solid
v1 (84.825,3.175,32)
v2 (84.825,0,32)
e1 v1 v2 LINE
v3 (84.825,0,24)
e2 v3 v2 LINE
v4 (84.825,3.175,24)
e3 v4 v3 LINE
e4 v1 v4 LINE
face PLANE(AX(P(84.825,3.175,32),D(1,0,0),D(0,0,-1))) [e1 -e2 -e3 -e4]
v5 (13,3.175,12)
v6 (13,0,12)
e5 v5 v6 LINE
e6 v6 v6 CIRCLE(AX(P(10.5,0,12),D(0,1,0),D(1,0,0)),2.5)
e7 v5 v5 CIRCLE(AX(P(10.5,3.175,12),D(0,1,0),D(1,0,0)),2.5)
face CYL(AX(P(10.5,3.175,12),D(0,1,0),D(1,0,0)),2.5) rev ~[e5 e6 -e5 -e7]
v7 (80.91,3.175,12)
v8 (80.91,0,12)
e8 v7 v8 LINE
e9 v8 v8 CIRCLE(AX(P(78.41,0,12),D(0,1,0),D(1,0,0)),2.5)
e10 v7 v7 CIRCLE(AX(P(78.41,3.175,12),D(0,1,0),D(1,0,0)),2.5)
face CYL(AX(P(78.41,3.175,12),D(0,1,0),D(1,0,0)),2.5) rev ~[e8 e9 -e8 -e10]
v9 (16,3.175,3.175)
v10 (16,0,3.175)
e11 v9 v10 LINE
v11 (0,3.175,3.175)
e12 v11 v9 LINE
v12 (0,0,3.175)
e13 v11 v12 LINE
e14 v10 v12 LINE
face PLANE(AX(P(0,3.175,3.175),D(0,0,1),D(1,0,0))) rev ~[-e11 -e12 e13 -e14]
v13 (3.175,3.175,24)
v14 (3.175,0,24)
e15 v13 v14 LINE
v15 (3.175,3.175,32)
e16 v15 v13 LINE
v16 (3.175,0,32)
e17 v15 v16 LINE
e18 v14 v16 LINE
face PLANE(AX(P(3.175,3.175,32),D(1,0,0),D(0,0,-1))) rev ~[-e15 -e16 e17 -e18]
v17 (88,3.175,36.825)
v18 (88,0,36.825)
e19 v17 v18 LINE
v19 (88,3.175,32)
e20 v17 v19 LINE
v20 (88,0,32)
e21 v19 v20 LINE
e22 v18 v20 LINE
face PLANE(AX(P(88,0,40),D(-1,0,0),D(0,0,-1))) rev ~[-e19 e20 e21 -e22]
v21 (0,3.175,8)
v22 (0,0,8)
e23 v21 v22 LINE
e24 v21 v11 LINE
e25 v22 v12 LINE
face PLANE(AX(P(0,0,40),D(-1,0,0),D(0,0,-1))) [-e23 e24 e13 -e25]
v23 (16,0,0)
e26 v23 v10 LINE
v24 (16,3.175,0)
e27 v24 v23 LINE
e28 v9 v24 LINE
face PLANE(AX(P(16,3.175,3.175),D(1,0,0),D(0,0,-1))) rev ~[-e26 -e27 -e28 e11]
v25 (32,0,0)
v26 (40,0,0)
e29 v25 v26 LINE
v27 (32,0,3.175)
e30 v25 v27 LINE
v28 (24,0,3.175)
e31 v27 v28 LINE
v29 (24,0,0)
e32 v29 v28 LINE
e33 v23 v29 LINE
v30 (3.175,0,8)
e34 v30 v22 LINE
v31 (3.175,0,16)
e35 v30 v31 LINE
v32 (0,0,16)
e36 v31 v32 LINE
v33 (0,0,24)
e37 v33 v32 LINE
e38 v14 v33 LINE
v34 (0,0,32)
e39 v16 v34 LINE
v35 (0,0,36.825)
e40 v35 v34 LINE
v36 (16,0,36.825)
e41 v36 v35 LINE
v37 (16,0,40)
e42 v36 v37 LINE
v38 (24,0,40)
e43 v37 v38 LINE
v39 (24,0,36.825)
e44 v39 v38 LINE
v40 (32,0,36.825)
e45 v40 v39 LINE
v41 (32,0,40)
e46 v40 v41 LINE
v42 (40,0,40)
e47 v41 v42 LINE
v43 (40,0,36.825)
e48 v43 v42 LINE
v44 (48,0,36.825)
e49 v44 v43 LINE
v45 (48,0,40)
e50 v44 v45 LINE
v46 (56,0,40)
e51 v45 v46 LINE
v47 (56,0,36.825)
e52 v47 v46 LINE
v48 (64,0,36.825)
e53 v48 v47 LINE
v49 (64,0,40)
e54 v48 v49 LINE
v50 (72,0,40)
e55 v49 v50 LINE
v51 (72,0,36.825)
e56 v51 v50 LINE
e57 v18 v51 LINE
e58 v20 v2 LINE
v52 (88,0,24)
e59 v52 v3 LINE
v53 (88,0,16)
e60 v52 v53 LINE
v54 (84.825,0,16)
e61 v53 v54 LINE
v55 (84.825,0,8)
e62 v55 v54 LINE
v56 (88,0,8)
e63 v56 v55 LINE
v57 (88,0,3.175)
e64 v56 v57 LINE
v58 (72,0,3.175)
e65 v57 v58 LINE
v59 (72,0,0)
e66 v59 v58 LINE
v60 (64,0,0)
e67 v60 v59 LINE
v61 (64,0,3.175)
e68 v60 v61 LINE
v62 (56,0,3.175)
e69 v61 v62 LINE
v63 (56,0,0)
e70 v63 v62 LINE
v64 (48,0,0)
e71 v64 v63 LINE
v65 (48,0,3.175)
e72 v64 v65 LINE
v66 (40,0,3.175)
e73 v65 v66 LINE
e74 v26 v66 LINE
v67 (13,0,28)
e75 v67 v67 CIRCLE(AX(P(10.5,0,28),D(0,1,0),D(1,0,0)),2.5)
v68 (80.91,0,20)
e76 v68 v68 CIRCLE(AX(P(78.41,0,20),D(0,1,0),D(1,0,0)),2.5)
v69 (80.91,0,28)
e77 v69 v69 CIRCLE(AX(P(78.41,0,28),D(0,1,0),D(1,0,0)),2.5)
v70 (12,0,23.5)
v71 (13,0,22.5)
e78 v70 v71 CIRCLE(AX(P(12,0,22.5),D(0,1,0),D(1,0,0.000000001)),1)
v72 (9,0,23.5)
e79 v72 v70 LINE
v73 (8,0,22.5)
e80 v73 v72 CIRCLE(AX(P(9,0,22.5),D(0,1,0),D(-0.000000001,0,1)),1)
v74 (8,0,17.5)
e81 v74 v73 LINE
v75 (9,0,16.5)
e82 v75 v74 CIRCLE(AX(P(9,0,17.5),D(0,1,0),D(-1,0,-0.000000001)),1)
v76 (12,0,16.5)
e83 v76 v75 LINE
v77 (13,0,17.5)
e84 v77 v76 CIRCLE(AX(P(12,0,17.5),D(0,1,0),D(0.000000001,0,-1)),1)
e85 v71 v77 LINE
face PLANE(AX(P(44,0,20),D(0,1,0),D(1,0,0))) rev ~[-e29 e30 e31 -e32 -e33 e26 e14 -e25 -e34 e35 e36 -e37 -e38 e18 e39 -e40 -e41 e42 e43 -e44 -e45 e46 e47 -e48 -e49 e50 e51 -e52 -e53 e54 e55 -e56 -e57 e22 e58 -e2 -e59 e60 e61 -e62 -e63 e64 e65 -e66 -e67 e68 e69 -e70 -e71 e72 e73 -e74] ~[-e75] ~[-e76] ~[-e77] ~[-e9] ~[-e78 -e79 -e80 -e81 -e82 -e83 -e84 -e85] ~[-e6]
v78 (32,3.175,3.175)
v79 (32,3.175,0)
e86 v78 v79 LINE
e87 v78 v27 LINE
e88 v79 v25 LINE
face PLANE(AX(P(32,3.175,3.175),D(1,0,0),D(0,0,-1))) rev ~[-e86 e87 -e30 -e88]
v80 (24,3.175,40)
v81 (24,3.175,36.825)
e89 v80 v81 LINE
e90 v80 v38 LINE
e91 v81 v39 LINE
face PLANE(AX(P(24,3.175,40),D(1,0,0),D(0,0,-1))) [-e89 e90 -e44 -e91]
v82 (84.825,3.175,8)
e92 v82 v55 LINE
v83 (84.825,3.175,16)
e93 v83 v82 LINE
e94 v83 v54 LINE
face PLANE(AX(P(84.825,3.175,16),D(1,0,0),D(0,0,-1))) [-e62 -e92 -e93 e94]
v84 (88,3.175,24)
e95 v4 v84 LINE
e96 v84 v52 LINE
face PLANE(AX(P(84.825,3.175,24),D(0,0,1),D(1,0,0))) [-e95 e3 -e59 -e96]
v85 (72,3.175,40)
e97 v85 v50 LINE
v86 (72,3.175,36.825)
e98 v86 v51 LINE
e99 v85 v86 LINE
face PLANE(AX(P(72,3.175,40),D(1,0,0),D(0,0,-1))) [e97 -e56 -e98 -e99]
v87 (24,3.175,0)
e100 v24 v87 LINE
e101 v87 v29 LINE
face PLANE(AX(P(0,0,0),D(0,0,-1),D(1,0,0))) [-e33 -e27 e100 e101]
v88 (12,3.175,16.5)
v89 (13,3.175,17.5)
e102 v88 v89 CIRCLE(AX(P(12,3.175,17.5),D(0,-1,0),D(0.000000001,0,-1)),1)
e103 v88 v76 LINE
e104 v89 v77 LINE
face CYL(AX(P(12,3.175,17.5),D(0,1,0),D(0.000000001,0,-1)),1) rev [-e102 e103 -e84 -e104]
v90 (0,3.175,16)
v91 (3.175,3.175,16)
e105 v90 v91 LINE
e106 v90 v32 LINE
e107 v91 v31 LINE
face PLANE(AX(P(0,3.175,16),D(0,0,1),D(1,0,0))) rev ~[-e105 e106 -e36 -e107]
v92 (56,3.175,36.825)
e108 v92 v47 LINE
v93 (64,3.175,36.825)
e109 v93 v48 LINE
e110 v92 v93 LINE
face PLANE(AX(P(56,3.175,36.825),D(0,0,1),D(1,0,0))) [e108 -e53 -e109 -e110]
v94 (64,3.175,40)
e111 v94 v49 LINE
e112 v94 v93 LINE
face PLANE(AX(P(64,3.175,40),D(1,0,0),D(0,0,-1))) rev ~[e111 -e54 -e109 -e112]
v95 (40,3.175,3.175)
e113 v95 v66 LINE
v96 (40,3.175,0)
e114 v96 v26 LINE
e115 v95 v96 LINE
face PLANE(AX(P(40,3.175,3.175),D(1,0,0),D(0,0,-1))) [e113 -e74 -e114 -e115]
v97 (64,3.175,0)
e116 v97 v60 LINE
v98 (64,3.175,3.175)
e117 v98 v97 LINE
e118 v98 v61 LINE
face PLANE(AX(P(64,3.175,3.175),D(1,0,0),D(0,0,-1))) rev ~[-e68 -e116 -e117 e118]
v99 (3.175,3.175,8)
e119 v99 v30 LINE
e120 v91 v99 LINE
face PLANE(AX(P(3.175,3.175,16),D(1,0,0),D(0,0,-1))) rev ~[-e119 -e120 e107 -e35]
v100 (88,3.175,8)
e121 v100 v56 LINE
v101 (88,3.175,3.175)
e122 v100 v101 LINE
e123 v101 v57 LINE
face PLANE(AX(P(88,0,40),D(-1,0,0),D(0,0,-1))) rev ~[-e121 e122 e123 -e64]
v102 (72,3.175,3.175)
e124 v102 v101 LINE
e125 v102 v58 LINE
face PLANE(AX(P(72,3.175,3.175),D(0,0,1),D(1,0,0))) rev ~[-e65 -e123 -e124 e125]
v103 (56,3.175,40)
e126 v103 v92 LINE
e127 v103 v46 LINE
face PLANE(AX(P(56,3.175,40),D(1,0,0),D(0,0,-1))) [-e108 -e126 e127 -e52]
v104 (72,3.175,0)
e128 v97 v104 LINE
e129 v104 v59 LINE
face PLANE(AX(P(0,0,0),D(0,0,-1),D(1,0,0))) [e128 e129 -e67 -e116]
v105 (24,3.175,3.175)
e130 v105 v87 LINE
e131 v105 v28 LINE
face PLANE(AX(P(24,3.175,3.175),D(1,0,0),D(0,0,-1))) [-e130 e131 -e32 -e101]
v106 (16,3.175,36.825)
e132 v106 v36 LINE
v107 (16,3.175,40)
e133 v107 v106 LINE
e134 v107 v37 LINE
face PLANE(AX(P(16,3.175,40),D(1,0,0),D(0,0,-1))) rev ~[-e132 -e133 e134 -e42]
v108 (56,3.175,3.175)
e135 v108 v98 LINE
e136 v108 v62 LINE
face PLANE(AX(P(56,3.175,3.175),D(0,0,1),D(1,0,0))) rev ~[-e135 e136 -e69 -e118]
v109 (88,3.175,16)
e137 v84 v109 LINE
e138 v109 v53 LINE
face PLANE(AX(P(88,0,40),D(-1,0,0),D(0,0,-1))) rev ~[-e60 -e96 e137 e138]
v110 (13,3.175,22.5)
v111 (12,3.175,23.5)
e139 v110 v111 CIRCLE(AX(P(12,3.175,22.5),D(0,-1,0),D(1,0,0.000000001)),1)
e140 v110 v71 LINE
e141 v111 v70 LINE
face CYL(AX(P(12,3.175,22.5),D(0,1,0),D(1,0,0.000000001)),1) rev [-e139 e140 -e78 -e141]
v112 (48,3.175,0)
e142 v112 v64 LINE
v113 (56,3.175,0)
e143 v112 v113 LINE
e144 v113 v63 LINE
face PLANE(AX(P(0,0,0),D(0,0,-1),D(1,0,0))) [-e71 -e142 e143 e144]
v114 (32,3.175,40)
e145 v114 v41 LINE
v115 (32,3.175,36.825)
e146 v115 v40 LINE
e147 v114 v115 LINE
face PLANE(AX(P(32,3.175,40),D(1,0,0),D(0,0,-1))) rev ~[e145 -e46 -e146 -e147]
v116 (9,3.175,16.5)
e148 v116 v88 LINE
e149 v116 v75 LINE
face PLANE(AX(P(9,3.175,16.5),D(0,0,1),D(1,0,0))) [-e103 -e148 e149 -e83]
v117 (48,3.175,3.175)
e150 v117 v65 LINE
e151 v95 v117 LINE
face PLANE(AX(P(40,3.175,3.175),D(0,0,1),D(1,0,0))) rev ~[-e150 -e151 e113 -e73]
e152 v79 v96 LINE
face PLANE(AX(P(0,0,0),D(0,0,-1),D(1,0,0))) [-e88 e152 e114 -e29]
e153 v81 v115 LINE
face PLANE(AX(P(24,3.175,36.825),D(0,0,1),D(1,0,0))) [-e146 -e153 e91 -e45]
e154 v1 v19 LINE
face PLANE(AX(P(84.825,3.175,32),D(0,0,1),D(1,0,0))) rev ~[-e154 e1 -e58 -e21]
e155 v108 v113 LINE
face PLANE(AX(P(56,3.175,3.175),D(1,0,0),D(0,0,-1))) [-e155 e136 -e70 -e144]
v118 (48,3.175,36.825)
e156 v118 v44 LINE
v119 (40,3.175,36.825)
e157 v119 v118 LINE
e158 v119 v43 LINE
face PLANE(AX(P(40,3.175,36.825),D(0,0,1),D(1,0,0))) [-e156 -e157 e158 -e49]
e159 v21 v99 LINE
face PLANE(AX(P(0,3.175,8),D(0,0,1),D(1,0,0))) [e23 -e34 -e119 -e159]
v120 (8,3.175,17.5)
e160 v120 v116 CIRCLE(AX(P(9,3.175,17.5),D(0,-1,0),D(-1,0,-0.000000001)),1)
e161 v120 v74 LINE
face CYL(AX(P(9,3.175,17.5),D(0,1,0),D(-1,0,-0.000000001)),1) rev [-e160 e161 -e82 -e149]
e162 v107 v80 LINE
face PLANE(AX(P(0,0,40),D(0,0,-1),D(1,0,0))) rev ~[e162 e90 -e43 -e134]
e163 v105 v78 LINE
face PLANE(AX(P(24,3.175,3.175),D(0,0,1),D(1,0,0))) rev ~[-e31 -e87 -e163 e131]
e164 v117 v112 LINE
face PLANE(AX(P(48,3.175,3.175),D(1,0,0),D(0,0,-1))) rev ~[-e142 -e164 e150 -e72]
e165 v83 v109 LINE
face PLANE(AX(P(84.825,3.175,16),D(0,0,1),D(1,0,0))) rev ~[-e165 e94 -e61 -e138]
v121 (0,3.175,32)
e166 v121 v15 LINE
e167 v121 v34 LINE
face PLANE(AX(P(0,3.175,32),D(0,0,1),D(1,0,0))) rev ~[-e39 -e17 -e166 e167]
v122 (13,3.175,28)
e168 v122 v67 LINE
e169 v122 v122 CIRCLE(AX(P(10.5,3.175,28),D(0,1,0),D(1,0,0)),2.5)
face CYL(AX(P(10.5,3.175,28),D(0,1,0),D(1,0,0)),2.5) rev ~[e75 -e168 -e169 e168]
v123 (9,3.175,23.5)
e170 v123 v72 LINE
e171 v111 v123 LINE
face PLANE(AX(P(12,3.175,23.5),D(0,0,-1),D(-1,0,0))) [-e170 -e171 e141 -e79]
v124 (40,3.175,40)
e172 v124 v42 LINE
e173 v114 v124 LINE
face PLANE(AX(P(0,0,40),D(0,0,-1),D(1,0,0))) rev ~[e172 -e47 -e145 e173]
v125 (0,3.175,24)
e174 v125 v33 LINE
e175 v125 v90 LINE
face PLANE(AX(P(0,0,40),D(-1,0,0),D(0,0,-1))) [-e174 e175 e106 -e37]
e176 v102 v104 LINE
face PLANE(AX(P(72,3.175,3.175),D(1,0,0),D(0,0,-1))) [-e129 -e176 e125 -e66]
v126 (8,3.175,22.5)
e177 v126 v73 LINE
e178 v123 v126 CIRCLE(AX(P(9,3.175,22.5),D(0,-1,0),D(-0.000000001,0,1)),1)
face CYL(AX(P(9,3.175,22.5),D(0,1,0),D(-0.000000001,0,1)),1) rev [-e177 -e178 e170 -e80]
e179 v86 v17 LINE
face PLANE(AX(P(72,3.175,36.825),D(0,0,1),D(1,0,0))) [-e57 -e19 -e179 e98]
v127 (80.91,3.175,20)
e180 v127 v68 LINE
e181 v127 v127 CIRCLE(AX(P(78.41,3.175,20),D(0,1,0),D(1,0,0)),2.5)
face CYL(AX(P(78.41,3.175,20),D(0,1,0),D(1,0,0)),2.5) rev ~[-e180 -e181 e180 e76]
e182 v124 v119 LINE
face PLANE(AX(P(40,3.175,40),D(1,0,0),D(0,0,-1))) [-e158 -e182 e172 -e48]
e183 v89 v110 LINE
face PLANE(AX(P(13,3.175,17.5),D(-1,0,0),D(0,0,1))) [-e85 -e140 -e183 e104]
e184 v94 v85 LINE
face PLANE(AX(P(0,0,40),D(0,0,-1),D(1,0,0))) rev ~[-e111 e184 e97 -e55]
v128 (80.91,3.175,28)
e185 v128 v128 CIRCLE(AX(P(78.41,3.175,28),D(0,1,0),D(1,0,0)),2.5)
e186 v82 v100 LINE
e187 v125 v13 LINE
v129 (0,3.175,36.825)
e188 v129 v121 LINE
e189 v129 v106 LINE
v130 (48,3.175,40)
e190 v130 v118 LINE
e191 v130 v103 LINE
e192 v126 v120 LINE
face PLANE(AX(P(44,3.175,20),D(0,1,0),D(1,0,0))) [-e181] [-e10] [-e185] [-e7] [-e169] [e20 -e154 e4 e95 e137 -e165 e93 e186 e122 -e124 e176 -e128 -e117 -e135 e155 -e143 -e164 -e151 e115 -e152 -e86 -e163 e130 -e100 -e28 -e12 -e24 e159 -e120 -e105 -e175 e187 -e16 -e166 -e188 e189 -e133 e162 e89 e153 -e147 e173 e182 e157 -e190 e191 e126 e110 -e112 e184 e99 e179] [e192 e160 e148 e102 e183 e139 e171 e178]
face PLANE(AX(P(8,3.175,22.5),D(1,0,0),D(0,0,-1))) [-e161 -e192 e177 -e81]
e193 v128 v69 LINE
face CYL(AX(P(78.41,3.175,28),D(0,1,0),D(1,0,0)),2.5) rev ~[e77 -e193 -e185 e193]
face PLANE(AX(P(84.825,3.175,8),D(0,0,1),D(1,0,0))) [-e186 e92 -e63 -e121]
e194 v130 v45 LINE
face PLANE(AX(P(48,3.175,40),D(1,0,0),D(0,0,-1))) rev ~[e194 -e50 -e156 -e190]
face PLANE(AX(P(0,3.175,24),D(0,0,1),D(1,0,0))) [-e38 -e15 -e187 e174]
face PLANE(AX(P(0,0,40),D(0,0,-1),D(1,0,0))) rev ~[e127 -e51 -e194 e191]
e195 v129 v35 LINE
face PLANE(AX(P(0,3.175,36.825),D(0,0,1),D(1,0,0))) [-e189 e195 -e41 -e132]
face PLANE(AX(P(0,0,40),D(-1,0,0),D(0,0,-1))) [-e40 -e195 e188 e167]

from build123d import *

# Parameters (mm, degrees)
SKETCH1_W           = 88
SKETCH1_H           = 40
BOSS_EXTRUDE1_DEPTH = 3.175
CUT_EXTRUDE1_REACH  = 5.175
SKETCH2_W           = 16
SKETCH2_H           = 3.175
SKETCH2_W_2         = 8
CUT_EXTRUDE2_REACH  = 5.175
SKETCH3_W           = 3.175
SKETCH3_H           = 8
CUT_EXTRUDE3_REACH  = 5.175
SKETCH4_R           = 2.5
CUT_EXTRUDE4_REACH  = 5.175
SKETCH5_R           = 2.5


with BuildPart() as part:
    # Sketch1 → Boss-Extrude1 (new body)
    with BuildSketch(Plane(origin=(0, 0, 0), x_dir=(1, 0, 0), z_dir=(0, 1, 0))):
        with Locations((44, -20)):
            Rectangle(SKETCH1_W, SKETCH1_H)
    extrude(amount=BOSS_EXTRUDE1_DEPTH)

    # Sketch2 → Cut-Extrude1 (cut, up to next)
    with BuildSketch(Plane(origin=(0, 3.175, 0), x_dir=(1, 0, 0), z_dir=(0, 1, 0)), mode=Mode.PRIVATE) as cut_extrude1_sk1:
        with Locations((8, -1.5875)):
            Rectangle(SKETCH2_W, SKETCH2_H)
    cut_extrude1_tool1 = extrude(cut_extrude1_sk1.sketch, amount=-CUT_EXTRUDE1_REACH, mode=Mode.PRIVATE) & part.part
    add(cut_extrude1_tool1.solids().sort_by_distance((8, 3.175, 1.5875))[0], mode=Mode.SUBTRACT)
    # Sketch2 → Cut-Extrude1 (cut, up to next)
    with BuildSketch(Plane(origin=(0, 3.175, 0), x_dir=(1, 0, 0), z_dir=(0, 1, 0)), mode=Mode.PRIVATE) as cut_extrude1_sk2:
        with Locations((44, -1.5875)):
            Rectangle(SKETCH2_W_2, SKETCH2_H)
    cut_extrude1_tool2 = extrude(cut_extrude1_sk2.sketch, amount=-CUT_EXTRUDE1_REACH, mode=Mode.PRIVATE) & part.part
    add(cut_extrude1_tool2.solids().sort_by_distance((44, 3.175, 1.5875))[0], mode=Mode.SUBTRACT)
    # Sketch2 → Cut-Extrude1 (cut, up to next)
    with BuildSketch(Plane(origin=(0, 3.175, 0), x_dir=(1, 0, 0), z_dir=(0, 1, 0)), mode=Mode.PRIVATE) as cut_extrude1_sk3:
        with Locations((60, -1.5875)):
            Rectangle(SKETCH2_W_2, SKETCH2_H)
    cut_extrude1_tool3 = extrude(cut_extrude1_sk3.sketch, amount=-CUT_EXTRUDE1_REACH, mode=Mode.PRIVATE) & part.part
    add(cut_extrude1_tool3.solids().sort_by_distance((60, 3.175, 1.5875))[0], mode=Mode.SUBTRACT)
    # Sketch2 → Cut-Extrude1 (cut, up to next)
    with BuildSketch(Plane(origin=(0, 3.175, 0), x_dir=(1, 0, 0), z_dir=(0, 1, 0)), mode=Mode.PRIVATE) as cut_extrude1_sk4:
        with Locations((80, -1.5875)):
            Rectangle(SKETCH2_W, SKETCH2_H)
    cut_extrude1_tool4 = extrude(cut_extrude1_sk4.sketch, amount=-CUT_EXTRUDE1_REACH, mode=Mode.PRIVATE) & part.part
    add(cut_extrude1_tool4.solids().sort_by_distance((80, 3.175, 1.5875))[0], mode=Mode.SUBTRACT)
    # Sketch2 → Cut-Extrude1 (cut, up to next)
    with BuildSketch(Plane(origin=(0, 3.175, 0), x_dir=(1, 0, 0), z_dir=(0, 1, 0)), mode=Mode.PRIVATE) as cut_extrude1_sk5:
        with Locations((28, -1.5875)):
            Rectangle(SKETCH2_W_2, SKETCH2_H)
    cut_extrude1_tool5 = extrude(cut_extrude1_sk5.sketch, amount=-CUT_EXTRUDE1_REACH, mode=Mode.PRIVATE) & part.part
    add(cut_extrude1_tool5.solids().sort_by_distance((28, 3.175, 1.5875))[0], mode=Mode.SUBTRACT)
    # Sketch2 → Cut-Extrude1 (cut, up to next)
    with BuildSketch(Plane(origin=(0, 3.175, 0), x_dir=(1, 0, 0), z_dir=(0, 1, 0)), mode=Mode.PRIVATE) as cut_extrude1_sk6:
        with Locations((44, -38.4125)):
            Rectangle(SKETCH2_W_2, SKETCH2_H)
    cut_extrude1_tool6 = extrude(cut_extrude1_sk6.sketch, amount=-CUT_EXTRUDE1_REACH, mode=Mode.PRIVATE) & part.part
    add(cut_extrude1_tool6.solids().sort_by_distance((44, 3.175, 38.4125))[0], mode=Mode.SUBTRACT)
    # Sketch2 → Cut-Extrude1 (cut, up to next)
    with BuildSketch(Plane(origin=(0, 3.175, 0), x_dir=(1, 0, 0), z_dir=(0, 1, 0)), mode=Mode.PRIVATE) as cut_extrude1_sk7:
        with Locations((28, -38.4125)):
            Rectangle(SKETCH2_W_2, SKETCH2_H)
    cut_extrude1_tool7 = extrude(cut_extrude1_sk7.sketch, amount=-CUT_EXTRUDE1_REACH, mode=Mode.PRIVATE) & part.part
    add(cut_extrude1_tool7.solids().sort_by_distance((28, 3.175, 38.4125))[0], mode=Mode.SUBTRACT)
    # Sketch2 → Cut-Extrude1 (cut, up to next)
    with BuildSketch(Plane(origin=(0, 3.175, 0), x_dir=(1, 0, 0), z_dir=(0, 1, 0)), mode=Mode.PRIVATE) as cut_extrude1_sk8:
        with Locations((8, -38.4125)):
            Rectangle(SKETCH2_W, SKETCH2_H)
    cut_extrude1_tool8 = extrude(cut_extrude1_sk8.sketch, amount=-CUT_EXTRUDE1_REACH, mode=Mode.PRIVATE) & part.part
    add(cut_extrude1_tool8.solids().sort_by_distance((8, 3.175, 38.4125))[0], mode=Mode.SUBTRACT)
    # Sketch2 → Cut-Extrude1 (cut, up to next)
    with BuildSketch(Plane(origin=(0, 3.175, 0), x_dir=(1, 0, 0), z_dir=(0, 1, 0)), mode=Mode.PRIVATE) as cut_extrude1_sk9:
        with Locations((80, -38.4125)):
            Rectangle(SKETCH2_W, SKETCH2_H)
    cut_extrude1_tool9 = extrude(cut_extrude1_sk9.sketch, amount=-CUT_EXTRUDE1_REACH, mode=Mode.PRIVATE) & part.part
    add(cut_extrude1_tool9.solids().sort_by_distance((80, 3.175, 38.4125))[0], mode=Mode.SUBTRACT)
    # Sketch2 → Cut-Extrude1 (cut, up to next)
    with BuildSketch(Plane(origin=(0, 3.175, 0), x_dir=(1, 0, 0), z_dir=(0, 1, 0)), mode=Mode.PRIVATE) as cut_extrude1_sk10:
        with Locations((60, -38.4125)):
            Rectangle(SKETCH2_W_2, SKETCH2_H)
    cut_extrude1_tool10 = extrude(cut_extrude1_sk10.sketch, amount=-CUT_EXTRUDE1_REACH, mode=Mode.PRIVATE) & part.part
    add(cut_extrude1_tool10.solids().sort_by_distance((60, 3.175, 38.4125))[0], mode=Mode.SUBTRACT)

    # Sketch3 → Cut-Extrude2 (cut, up to next)
    with BuildSketch(Plane(origin=(0, 3.175, 0), x_dir=(1, 0, 0), z_dir=(0, 1, 0)), mode=Mode.PRIVATE) as cut_extrude2_sk1:
        with Locations((1.5875, -28)):
            Rectangle(SKETCH3_W, SKETCH3_H)
    cut_extrude2_tool1 = extrude(cut_extrude2_sk1.sketch, amount=-CUT_EXTRUDE2_REACH, mode=Mode.PRIVATE) & part.part
    add(cut_extrude2_tool1.solids().sort_by_distance((1.5875, 3.175, 28))[0], mode=Mode.SUBTRACT)
    # Sketch3 → Cut-Extrude2 (cut, up to next)
    with BuildSketch(Plane(origin=(0, 3.175, 0), x_dir=(1, 0, 0), z_dir=(0, 1, 0)), mode=Mode.PRIVATE) as cut_extrude2_sk2:
        with Locations((1.5875, -12)):
            Rectangle(SKETCH3_W, SKETCH3_H)
    cut_extrude2_tool2 = extrude(cut_extrude2_sk2.sketch, amount=-CUT_EXTRUDE2_REACH, mode=Mode.PRIVATE) & part.part
    add(cut_extrude2_tool2.solids().sort_by_distance((1.5875, 3.175, 12))[0], mode=Mode.SUBTRACT)
    # Sketch3 → Cut-Extrude2 (cut, up to next)
    with BuildSketch(Plane(origin=(0, 3.175, 0), x_dir=(1, 0, 0), z_dir=(0, 1, 0)), mode=Mode.PRIVATE) as cut_extrude2_sk3:
        with Locations((86.4125, -28)):
            Rectangle(SKETCH3_W, SKETCH3_H)
    cut_extrude2_tool3 = extrude(cut_extrude2_sk3.sketch, amount=-CUT_EXTRUDE2_REACH, mode=Mode.PRIVATE) & part.part
    add(cut_extrude2_tool3.solids().sort_by_distance((86.4125, 3.175, 28))[0], mode=Mode.SUBTRACT)
    # Sketch3 → Cut-Extrude2 (cut, up to next)
    with BuildSketch(Plane(origin=(0, 3.175, 0), x_dir=(1, 0, 0), z_dir=(0, 1, 0)), mode=Mode.PRIVATE) as cut_extrude2_sk4:
        with Locations((86.4125, -12)):
            Rectangle(SKETCH3_W, SKETCH3_H)
    cut_extrude2_tool4 = extrude(cut_extrude2_sk4.sketch, amount=-CUT_EXTRUDE2_REACH, mode=Mode.PRIVATE) & part.part
    add(cut_extrude2_tool4.solids().sort_by_distance((86.4125, 3.175, 12))[0], mode=Mode.SUBTRACT)

    # Sketch4 → Cut-Extrude3 (cut, up to next)
    with BuildSketch(Plane(origin=(0, 3.175, 0), x_dir=(1, 0, 0), z_dir=(0, 1, 0)), mode=Mode.PRIVATE) as cut_extrude3_sk1:
        with Locations((78.41, -28)):
            Circle(SKETCH4_R)
    cut_extrude3_tool1 = extrude(cut_extrude3_sk1.sketch, amount=-CUT_EXTRUDE3_REACH, mode=Mode.PRIVATE) & part.part
    add(cut_extrude3_tool1.solids().sort_by_distance((78.41, 3.175, 28))[0], mode=Mode.SUBTRACT)
    # Sketch4 → Cut-Extrude3 (cut, up to next)
    with BuildSketch(Plane(origin=(0, 3.175, 0), x_dir=(1, 0, 0), z_dir=(0, 1, 0)), mode=Mode.PRIVATE) as cut_extrude3_sk2:
        with Locations((78.41, -12)):
            Circle(SKETCH4_R)
    cut_extrude3_tool2 = extrude(cut_extrude3_sk2.sketch, amount=-CUT_EXTRUDE3_REACH, mode=Mode.PRIVATE) & part.part
    add(cut_extrude3_tool2.solids().sort_by_distance((78.41, 3.175, 12))[0], mode=Mode.SUBTRACT)
    # Sketch4 → Cut-Extrude3 (cut, up to next)
    with BuildSketch(Plane(origin=(0, 3.175, 0), x_dir=(1, 0, 0), z_dir=(0, 1, 0)), mode=Mode.PRIVATE) as cut_extrude3_sk3:
        with Locations((78.41, -20)):
            Circle(SKETCH4_R)
    cut_extrude3_tool3 = extrude(cut_extrude3_sk3.sketch, amount=-CUT_EXTRUDE3_REACH, mode=Mode.PRIVATE) & part.part
    add(cut_extrude3_tool3.solids().sort_by_distance((78.41, 3.175, 20))[0], mode=Mode.SUBTRACT)

    # Sketch5 → Cut-Extrude4 (cut, up to next)
    with BuildSketch(Plane(origin=(0, 3.175, 0), x_dir=(1, 0, 0), z_dir=(0, 1, 0)), mode=Mode.PRIVATE) as cut_extrude4_sk1:
        with Locations((10.5, -12)):
            Circle(SKETCH5_R)
    cut_extrude4_tool1 = extrude(cut_extrude4_sk1.sketch, amount=-CUT_EXTRUDE4_REACH, mode=Mode.PRIVATE) & part.part
    add(cut_extrude4_tool1.solids().sort_by_distance((10.5, 3.175, 12))[0], mode=Mode.SUBTRACT)
    # Sketch5 → Cut-Extrude4 (cut, up to next)
    with BuildSketch(Plane(origin=(0, 3.175, 0), x_dir=(1, 0, 0), z_dir=(0, 1, 0)), mode=Mode.PRIVATE) as cut_extrude4_sk2:
        with Locations((10.5, -28)):
            Circle(SKETCH5_R)
    cut_extrude4_tool2 = extrude(cut_extrude4_sk2.sketch, amount=-CUT_EXTRUDE4_REACH, mode=Mode.PRIVATE) & part.part
    add(cut_extrude4_tool2.solids().sort_by_distance((10.5, 3.175, 28))[0], mode=Mode.SUBTRACT)
    # Sketch5 → Cut-Extrude4 (cut, up to next)
    with BuildSketch(Plane(origin=(0, 3.175, 0), x_dir=(1, 0, 0), z_dir=(0, 1, 0)), mode=Mode.PRIVATE) as cut_extrude4_sk3:
        with BuildLine():
            Line((9, -16.5), (12, -16.5))
            ThreePointArc((12, -16.5), (12.707106781, -16.792893219), (13, -17.5))
            Line((13, -17.5), (13, -22.5))
            ThreePointArc((13, -22.5), (12.707106781, -23.207106781), (12, -23.5))
            Line((12, -23.5), (9, -23.5))
            ThreePointArc((9, -23.5), (8.292893219, -23.207106781), (8, -22.5))
            Line((8, -22.5), (8, -17.5))
            ThreePointArc((8, -17.5), (8.292893219, -16.792893219), (9, -16.5))
        make_face()
    cut_extrude4_tool3 = extrude(cut_extrude4_sk3.sketch, amount=-CUT_EXTRUDE4_REACH, mode=Mode.PRIVATE) & part.part
    add(cut_extrude4_tool3.solids().sort_by_distance((10.5, 3.175, 20))[0], mode=Mode.SUBTRACT)


solid = part.part
